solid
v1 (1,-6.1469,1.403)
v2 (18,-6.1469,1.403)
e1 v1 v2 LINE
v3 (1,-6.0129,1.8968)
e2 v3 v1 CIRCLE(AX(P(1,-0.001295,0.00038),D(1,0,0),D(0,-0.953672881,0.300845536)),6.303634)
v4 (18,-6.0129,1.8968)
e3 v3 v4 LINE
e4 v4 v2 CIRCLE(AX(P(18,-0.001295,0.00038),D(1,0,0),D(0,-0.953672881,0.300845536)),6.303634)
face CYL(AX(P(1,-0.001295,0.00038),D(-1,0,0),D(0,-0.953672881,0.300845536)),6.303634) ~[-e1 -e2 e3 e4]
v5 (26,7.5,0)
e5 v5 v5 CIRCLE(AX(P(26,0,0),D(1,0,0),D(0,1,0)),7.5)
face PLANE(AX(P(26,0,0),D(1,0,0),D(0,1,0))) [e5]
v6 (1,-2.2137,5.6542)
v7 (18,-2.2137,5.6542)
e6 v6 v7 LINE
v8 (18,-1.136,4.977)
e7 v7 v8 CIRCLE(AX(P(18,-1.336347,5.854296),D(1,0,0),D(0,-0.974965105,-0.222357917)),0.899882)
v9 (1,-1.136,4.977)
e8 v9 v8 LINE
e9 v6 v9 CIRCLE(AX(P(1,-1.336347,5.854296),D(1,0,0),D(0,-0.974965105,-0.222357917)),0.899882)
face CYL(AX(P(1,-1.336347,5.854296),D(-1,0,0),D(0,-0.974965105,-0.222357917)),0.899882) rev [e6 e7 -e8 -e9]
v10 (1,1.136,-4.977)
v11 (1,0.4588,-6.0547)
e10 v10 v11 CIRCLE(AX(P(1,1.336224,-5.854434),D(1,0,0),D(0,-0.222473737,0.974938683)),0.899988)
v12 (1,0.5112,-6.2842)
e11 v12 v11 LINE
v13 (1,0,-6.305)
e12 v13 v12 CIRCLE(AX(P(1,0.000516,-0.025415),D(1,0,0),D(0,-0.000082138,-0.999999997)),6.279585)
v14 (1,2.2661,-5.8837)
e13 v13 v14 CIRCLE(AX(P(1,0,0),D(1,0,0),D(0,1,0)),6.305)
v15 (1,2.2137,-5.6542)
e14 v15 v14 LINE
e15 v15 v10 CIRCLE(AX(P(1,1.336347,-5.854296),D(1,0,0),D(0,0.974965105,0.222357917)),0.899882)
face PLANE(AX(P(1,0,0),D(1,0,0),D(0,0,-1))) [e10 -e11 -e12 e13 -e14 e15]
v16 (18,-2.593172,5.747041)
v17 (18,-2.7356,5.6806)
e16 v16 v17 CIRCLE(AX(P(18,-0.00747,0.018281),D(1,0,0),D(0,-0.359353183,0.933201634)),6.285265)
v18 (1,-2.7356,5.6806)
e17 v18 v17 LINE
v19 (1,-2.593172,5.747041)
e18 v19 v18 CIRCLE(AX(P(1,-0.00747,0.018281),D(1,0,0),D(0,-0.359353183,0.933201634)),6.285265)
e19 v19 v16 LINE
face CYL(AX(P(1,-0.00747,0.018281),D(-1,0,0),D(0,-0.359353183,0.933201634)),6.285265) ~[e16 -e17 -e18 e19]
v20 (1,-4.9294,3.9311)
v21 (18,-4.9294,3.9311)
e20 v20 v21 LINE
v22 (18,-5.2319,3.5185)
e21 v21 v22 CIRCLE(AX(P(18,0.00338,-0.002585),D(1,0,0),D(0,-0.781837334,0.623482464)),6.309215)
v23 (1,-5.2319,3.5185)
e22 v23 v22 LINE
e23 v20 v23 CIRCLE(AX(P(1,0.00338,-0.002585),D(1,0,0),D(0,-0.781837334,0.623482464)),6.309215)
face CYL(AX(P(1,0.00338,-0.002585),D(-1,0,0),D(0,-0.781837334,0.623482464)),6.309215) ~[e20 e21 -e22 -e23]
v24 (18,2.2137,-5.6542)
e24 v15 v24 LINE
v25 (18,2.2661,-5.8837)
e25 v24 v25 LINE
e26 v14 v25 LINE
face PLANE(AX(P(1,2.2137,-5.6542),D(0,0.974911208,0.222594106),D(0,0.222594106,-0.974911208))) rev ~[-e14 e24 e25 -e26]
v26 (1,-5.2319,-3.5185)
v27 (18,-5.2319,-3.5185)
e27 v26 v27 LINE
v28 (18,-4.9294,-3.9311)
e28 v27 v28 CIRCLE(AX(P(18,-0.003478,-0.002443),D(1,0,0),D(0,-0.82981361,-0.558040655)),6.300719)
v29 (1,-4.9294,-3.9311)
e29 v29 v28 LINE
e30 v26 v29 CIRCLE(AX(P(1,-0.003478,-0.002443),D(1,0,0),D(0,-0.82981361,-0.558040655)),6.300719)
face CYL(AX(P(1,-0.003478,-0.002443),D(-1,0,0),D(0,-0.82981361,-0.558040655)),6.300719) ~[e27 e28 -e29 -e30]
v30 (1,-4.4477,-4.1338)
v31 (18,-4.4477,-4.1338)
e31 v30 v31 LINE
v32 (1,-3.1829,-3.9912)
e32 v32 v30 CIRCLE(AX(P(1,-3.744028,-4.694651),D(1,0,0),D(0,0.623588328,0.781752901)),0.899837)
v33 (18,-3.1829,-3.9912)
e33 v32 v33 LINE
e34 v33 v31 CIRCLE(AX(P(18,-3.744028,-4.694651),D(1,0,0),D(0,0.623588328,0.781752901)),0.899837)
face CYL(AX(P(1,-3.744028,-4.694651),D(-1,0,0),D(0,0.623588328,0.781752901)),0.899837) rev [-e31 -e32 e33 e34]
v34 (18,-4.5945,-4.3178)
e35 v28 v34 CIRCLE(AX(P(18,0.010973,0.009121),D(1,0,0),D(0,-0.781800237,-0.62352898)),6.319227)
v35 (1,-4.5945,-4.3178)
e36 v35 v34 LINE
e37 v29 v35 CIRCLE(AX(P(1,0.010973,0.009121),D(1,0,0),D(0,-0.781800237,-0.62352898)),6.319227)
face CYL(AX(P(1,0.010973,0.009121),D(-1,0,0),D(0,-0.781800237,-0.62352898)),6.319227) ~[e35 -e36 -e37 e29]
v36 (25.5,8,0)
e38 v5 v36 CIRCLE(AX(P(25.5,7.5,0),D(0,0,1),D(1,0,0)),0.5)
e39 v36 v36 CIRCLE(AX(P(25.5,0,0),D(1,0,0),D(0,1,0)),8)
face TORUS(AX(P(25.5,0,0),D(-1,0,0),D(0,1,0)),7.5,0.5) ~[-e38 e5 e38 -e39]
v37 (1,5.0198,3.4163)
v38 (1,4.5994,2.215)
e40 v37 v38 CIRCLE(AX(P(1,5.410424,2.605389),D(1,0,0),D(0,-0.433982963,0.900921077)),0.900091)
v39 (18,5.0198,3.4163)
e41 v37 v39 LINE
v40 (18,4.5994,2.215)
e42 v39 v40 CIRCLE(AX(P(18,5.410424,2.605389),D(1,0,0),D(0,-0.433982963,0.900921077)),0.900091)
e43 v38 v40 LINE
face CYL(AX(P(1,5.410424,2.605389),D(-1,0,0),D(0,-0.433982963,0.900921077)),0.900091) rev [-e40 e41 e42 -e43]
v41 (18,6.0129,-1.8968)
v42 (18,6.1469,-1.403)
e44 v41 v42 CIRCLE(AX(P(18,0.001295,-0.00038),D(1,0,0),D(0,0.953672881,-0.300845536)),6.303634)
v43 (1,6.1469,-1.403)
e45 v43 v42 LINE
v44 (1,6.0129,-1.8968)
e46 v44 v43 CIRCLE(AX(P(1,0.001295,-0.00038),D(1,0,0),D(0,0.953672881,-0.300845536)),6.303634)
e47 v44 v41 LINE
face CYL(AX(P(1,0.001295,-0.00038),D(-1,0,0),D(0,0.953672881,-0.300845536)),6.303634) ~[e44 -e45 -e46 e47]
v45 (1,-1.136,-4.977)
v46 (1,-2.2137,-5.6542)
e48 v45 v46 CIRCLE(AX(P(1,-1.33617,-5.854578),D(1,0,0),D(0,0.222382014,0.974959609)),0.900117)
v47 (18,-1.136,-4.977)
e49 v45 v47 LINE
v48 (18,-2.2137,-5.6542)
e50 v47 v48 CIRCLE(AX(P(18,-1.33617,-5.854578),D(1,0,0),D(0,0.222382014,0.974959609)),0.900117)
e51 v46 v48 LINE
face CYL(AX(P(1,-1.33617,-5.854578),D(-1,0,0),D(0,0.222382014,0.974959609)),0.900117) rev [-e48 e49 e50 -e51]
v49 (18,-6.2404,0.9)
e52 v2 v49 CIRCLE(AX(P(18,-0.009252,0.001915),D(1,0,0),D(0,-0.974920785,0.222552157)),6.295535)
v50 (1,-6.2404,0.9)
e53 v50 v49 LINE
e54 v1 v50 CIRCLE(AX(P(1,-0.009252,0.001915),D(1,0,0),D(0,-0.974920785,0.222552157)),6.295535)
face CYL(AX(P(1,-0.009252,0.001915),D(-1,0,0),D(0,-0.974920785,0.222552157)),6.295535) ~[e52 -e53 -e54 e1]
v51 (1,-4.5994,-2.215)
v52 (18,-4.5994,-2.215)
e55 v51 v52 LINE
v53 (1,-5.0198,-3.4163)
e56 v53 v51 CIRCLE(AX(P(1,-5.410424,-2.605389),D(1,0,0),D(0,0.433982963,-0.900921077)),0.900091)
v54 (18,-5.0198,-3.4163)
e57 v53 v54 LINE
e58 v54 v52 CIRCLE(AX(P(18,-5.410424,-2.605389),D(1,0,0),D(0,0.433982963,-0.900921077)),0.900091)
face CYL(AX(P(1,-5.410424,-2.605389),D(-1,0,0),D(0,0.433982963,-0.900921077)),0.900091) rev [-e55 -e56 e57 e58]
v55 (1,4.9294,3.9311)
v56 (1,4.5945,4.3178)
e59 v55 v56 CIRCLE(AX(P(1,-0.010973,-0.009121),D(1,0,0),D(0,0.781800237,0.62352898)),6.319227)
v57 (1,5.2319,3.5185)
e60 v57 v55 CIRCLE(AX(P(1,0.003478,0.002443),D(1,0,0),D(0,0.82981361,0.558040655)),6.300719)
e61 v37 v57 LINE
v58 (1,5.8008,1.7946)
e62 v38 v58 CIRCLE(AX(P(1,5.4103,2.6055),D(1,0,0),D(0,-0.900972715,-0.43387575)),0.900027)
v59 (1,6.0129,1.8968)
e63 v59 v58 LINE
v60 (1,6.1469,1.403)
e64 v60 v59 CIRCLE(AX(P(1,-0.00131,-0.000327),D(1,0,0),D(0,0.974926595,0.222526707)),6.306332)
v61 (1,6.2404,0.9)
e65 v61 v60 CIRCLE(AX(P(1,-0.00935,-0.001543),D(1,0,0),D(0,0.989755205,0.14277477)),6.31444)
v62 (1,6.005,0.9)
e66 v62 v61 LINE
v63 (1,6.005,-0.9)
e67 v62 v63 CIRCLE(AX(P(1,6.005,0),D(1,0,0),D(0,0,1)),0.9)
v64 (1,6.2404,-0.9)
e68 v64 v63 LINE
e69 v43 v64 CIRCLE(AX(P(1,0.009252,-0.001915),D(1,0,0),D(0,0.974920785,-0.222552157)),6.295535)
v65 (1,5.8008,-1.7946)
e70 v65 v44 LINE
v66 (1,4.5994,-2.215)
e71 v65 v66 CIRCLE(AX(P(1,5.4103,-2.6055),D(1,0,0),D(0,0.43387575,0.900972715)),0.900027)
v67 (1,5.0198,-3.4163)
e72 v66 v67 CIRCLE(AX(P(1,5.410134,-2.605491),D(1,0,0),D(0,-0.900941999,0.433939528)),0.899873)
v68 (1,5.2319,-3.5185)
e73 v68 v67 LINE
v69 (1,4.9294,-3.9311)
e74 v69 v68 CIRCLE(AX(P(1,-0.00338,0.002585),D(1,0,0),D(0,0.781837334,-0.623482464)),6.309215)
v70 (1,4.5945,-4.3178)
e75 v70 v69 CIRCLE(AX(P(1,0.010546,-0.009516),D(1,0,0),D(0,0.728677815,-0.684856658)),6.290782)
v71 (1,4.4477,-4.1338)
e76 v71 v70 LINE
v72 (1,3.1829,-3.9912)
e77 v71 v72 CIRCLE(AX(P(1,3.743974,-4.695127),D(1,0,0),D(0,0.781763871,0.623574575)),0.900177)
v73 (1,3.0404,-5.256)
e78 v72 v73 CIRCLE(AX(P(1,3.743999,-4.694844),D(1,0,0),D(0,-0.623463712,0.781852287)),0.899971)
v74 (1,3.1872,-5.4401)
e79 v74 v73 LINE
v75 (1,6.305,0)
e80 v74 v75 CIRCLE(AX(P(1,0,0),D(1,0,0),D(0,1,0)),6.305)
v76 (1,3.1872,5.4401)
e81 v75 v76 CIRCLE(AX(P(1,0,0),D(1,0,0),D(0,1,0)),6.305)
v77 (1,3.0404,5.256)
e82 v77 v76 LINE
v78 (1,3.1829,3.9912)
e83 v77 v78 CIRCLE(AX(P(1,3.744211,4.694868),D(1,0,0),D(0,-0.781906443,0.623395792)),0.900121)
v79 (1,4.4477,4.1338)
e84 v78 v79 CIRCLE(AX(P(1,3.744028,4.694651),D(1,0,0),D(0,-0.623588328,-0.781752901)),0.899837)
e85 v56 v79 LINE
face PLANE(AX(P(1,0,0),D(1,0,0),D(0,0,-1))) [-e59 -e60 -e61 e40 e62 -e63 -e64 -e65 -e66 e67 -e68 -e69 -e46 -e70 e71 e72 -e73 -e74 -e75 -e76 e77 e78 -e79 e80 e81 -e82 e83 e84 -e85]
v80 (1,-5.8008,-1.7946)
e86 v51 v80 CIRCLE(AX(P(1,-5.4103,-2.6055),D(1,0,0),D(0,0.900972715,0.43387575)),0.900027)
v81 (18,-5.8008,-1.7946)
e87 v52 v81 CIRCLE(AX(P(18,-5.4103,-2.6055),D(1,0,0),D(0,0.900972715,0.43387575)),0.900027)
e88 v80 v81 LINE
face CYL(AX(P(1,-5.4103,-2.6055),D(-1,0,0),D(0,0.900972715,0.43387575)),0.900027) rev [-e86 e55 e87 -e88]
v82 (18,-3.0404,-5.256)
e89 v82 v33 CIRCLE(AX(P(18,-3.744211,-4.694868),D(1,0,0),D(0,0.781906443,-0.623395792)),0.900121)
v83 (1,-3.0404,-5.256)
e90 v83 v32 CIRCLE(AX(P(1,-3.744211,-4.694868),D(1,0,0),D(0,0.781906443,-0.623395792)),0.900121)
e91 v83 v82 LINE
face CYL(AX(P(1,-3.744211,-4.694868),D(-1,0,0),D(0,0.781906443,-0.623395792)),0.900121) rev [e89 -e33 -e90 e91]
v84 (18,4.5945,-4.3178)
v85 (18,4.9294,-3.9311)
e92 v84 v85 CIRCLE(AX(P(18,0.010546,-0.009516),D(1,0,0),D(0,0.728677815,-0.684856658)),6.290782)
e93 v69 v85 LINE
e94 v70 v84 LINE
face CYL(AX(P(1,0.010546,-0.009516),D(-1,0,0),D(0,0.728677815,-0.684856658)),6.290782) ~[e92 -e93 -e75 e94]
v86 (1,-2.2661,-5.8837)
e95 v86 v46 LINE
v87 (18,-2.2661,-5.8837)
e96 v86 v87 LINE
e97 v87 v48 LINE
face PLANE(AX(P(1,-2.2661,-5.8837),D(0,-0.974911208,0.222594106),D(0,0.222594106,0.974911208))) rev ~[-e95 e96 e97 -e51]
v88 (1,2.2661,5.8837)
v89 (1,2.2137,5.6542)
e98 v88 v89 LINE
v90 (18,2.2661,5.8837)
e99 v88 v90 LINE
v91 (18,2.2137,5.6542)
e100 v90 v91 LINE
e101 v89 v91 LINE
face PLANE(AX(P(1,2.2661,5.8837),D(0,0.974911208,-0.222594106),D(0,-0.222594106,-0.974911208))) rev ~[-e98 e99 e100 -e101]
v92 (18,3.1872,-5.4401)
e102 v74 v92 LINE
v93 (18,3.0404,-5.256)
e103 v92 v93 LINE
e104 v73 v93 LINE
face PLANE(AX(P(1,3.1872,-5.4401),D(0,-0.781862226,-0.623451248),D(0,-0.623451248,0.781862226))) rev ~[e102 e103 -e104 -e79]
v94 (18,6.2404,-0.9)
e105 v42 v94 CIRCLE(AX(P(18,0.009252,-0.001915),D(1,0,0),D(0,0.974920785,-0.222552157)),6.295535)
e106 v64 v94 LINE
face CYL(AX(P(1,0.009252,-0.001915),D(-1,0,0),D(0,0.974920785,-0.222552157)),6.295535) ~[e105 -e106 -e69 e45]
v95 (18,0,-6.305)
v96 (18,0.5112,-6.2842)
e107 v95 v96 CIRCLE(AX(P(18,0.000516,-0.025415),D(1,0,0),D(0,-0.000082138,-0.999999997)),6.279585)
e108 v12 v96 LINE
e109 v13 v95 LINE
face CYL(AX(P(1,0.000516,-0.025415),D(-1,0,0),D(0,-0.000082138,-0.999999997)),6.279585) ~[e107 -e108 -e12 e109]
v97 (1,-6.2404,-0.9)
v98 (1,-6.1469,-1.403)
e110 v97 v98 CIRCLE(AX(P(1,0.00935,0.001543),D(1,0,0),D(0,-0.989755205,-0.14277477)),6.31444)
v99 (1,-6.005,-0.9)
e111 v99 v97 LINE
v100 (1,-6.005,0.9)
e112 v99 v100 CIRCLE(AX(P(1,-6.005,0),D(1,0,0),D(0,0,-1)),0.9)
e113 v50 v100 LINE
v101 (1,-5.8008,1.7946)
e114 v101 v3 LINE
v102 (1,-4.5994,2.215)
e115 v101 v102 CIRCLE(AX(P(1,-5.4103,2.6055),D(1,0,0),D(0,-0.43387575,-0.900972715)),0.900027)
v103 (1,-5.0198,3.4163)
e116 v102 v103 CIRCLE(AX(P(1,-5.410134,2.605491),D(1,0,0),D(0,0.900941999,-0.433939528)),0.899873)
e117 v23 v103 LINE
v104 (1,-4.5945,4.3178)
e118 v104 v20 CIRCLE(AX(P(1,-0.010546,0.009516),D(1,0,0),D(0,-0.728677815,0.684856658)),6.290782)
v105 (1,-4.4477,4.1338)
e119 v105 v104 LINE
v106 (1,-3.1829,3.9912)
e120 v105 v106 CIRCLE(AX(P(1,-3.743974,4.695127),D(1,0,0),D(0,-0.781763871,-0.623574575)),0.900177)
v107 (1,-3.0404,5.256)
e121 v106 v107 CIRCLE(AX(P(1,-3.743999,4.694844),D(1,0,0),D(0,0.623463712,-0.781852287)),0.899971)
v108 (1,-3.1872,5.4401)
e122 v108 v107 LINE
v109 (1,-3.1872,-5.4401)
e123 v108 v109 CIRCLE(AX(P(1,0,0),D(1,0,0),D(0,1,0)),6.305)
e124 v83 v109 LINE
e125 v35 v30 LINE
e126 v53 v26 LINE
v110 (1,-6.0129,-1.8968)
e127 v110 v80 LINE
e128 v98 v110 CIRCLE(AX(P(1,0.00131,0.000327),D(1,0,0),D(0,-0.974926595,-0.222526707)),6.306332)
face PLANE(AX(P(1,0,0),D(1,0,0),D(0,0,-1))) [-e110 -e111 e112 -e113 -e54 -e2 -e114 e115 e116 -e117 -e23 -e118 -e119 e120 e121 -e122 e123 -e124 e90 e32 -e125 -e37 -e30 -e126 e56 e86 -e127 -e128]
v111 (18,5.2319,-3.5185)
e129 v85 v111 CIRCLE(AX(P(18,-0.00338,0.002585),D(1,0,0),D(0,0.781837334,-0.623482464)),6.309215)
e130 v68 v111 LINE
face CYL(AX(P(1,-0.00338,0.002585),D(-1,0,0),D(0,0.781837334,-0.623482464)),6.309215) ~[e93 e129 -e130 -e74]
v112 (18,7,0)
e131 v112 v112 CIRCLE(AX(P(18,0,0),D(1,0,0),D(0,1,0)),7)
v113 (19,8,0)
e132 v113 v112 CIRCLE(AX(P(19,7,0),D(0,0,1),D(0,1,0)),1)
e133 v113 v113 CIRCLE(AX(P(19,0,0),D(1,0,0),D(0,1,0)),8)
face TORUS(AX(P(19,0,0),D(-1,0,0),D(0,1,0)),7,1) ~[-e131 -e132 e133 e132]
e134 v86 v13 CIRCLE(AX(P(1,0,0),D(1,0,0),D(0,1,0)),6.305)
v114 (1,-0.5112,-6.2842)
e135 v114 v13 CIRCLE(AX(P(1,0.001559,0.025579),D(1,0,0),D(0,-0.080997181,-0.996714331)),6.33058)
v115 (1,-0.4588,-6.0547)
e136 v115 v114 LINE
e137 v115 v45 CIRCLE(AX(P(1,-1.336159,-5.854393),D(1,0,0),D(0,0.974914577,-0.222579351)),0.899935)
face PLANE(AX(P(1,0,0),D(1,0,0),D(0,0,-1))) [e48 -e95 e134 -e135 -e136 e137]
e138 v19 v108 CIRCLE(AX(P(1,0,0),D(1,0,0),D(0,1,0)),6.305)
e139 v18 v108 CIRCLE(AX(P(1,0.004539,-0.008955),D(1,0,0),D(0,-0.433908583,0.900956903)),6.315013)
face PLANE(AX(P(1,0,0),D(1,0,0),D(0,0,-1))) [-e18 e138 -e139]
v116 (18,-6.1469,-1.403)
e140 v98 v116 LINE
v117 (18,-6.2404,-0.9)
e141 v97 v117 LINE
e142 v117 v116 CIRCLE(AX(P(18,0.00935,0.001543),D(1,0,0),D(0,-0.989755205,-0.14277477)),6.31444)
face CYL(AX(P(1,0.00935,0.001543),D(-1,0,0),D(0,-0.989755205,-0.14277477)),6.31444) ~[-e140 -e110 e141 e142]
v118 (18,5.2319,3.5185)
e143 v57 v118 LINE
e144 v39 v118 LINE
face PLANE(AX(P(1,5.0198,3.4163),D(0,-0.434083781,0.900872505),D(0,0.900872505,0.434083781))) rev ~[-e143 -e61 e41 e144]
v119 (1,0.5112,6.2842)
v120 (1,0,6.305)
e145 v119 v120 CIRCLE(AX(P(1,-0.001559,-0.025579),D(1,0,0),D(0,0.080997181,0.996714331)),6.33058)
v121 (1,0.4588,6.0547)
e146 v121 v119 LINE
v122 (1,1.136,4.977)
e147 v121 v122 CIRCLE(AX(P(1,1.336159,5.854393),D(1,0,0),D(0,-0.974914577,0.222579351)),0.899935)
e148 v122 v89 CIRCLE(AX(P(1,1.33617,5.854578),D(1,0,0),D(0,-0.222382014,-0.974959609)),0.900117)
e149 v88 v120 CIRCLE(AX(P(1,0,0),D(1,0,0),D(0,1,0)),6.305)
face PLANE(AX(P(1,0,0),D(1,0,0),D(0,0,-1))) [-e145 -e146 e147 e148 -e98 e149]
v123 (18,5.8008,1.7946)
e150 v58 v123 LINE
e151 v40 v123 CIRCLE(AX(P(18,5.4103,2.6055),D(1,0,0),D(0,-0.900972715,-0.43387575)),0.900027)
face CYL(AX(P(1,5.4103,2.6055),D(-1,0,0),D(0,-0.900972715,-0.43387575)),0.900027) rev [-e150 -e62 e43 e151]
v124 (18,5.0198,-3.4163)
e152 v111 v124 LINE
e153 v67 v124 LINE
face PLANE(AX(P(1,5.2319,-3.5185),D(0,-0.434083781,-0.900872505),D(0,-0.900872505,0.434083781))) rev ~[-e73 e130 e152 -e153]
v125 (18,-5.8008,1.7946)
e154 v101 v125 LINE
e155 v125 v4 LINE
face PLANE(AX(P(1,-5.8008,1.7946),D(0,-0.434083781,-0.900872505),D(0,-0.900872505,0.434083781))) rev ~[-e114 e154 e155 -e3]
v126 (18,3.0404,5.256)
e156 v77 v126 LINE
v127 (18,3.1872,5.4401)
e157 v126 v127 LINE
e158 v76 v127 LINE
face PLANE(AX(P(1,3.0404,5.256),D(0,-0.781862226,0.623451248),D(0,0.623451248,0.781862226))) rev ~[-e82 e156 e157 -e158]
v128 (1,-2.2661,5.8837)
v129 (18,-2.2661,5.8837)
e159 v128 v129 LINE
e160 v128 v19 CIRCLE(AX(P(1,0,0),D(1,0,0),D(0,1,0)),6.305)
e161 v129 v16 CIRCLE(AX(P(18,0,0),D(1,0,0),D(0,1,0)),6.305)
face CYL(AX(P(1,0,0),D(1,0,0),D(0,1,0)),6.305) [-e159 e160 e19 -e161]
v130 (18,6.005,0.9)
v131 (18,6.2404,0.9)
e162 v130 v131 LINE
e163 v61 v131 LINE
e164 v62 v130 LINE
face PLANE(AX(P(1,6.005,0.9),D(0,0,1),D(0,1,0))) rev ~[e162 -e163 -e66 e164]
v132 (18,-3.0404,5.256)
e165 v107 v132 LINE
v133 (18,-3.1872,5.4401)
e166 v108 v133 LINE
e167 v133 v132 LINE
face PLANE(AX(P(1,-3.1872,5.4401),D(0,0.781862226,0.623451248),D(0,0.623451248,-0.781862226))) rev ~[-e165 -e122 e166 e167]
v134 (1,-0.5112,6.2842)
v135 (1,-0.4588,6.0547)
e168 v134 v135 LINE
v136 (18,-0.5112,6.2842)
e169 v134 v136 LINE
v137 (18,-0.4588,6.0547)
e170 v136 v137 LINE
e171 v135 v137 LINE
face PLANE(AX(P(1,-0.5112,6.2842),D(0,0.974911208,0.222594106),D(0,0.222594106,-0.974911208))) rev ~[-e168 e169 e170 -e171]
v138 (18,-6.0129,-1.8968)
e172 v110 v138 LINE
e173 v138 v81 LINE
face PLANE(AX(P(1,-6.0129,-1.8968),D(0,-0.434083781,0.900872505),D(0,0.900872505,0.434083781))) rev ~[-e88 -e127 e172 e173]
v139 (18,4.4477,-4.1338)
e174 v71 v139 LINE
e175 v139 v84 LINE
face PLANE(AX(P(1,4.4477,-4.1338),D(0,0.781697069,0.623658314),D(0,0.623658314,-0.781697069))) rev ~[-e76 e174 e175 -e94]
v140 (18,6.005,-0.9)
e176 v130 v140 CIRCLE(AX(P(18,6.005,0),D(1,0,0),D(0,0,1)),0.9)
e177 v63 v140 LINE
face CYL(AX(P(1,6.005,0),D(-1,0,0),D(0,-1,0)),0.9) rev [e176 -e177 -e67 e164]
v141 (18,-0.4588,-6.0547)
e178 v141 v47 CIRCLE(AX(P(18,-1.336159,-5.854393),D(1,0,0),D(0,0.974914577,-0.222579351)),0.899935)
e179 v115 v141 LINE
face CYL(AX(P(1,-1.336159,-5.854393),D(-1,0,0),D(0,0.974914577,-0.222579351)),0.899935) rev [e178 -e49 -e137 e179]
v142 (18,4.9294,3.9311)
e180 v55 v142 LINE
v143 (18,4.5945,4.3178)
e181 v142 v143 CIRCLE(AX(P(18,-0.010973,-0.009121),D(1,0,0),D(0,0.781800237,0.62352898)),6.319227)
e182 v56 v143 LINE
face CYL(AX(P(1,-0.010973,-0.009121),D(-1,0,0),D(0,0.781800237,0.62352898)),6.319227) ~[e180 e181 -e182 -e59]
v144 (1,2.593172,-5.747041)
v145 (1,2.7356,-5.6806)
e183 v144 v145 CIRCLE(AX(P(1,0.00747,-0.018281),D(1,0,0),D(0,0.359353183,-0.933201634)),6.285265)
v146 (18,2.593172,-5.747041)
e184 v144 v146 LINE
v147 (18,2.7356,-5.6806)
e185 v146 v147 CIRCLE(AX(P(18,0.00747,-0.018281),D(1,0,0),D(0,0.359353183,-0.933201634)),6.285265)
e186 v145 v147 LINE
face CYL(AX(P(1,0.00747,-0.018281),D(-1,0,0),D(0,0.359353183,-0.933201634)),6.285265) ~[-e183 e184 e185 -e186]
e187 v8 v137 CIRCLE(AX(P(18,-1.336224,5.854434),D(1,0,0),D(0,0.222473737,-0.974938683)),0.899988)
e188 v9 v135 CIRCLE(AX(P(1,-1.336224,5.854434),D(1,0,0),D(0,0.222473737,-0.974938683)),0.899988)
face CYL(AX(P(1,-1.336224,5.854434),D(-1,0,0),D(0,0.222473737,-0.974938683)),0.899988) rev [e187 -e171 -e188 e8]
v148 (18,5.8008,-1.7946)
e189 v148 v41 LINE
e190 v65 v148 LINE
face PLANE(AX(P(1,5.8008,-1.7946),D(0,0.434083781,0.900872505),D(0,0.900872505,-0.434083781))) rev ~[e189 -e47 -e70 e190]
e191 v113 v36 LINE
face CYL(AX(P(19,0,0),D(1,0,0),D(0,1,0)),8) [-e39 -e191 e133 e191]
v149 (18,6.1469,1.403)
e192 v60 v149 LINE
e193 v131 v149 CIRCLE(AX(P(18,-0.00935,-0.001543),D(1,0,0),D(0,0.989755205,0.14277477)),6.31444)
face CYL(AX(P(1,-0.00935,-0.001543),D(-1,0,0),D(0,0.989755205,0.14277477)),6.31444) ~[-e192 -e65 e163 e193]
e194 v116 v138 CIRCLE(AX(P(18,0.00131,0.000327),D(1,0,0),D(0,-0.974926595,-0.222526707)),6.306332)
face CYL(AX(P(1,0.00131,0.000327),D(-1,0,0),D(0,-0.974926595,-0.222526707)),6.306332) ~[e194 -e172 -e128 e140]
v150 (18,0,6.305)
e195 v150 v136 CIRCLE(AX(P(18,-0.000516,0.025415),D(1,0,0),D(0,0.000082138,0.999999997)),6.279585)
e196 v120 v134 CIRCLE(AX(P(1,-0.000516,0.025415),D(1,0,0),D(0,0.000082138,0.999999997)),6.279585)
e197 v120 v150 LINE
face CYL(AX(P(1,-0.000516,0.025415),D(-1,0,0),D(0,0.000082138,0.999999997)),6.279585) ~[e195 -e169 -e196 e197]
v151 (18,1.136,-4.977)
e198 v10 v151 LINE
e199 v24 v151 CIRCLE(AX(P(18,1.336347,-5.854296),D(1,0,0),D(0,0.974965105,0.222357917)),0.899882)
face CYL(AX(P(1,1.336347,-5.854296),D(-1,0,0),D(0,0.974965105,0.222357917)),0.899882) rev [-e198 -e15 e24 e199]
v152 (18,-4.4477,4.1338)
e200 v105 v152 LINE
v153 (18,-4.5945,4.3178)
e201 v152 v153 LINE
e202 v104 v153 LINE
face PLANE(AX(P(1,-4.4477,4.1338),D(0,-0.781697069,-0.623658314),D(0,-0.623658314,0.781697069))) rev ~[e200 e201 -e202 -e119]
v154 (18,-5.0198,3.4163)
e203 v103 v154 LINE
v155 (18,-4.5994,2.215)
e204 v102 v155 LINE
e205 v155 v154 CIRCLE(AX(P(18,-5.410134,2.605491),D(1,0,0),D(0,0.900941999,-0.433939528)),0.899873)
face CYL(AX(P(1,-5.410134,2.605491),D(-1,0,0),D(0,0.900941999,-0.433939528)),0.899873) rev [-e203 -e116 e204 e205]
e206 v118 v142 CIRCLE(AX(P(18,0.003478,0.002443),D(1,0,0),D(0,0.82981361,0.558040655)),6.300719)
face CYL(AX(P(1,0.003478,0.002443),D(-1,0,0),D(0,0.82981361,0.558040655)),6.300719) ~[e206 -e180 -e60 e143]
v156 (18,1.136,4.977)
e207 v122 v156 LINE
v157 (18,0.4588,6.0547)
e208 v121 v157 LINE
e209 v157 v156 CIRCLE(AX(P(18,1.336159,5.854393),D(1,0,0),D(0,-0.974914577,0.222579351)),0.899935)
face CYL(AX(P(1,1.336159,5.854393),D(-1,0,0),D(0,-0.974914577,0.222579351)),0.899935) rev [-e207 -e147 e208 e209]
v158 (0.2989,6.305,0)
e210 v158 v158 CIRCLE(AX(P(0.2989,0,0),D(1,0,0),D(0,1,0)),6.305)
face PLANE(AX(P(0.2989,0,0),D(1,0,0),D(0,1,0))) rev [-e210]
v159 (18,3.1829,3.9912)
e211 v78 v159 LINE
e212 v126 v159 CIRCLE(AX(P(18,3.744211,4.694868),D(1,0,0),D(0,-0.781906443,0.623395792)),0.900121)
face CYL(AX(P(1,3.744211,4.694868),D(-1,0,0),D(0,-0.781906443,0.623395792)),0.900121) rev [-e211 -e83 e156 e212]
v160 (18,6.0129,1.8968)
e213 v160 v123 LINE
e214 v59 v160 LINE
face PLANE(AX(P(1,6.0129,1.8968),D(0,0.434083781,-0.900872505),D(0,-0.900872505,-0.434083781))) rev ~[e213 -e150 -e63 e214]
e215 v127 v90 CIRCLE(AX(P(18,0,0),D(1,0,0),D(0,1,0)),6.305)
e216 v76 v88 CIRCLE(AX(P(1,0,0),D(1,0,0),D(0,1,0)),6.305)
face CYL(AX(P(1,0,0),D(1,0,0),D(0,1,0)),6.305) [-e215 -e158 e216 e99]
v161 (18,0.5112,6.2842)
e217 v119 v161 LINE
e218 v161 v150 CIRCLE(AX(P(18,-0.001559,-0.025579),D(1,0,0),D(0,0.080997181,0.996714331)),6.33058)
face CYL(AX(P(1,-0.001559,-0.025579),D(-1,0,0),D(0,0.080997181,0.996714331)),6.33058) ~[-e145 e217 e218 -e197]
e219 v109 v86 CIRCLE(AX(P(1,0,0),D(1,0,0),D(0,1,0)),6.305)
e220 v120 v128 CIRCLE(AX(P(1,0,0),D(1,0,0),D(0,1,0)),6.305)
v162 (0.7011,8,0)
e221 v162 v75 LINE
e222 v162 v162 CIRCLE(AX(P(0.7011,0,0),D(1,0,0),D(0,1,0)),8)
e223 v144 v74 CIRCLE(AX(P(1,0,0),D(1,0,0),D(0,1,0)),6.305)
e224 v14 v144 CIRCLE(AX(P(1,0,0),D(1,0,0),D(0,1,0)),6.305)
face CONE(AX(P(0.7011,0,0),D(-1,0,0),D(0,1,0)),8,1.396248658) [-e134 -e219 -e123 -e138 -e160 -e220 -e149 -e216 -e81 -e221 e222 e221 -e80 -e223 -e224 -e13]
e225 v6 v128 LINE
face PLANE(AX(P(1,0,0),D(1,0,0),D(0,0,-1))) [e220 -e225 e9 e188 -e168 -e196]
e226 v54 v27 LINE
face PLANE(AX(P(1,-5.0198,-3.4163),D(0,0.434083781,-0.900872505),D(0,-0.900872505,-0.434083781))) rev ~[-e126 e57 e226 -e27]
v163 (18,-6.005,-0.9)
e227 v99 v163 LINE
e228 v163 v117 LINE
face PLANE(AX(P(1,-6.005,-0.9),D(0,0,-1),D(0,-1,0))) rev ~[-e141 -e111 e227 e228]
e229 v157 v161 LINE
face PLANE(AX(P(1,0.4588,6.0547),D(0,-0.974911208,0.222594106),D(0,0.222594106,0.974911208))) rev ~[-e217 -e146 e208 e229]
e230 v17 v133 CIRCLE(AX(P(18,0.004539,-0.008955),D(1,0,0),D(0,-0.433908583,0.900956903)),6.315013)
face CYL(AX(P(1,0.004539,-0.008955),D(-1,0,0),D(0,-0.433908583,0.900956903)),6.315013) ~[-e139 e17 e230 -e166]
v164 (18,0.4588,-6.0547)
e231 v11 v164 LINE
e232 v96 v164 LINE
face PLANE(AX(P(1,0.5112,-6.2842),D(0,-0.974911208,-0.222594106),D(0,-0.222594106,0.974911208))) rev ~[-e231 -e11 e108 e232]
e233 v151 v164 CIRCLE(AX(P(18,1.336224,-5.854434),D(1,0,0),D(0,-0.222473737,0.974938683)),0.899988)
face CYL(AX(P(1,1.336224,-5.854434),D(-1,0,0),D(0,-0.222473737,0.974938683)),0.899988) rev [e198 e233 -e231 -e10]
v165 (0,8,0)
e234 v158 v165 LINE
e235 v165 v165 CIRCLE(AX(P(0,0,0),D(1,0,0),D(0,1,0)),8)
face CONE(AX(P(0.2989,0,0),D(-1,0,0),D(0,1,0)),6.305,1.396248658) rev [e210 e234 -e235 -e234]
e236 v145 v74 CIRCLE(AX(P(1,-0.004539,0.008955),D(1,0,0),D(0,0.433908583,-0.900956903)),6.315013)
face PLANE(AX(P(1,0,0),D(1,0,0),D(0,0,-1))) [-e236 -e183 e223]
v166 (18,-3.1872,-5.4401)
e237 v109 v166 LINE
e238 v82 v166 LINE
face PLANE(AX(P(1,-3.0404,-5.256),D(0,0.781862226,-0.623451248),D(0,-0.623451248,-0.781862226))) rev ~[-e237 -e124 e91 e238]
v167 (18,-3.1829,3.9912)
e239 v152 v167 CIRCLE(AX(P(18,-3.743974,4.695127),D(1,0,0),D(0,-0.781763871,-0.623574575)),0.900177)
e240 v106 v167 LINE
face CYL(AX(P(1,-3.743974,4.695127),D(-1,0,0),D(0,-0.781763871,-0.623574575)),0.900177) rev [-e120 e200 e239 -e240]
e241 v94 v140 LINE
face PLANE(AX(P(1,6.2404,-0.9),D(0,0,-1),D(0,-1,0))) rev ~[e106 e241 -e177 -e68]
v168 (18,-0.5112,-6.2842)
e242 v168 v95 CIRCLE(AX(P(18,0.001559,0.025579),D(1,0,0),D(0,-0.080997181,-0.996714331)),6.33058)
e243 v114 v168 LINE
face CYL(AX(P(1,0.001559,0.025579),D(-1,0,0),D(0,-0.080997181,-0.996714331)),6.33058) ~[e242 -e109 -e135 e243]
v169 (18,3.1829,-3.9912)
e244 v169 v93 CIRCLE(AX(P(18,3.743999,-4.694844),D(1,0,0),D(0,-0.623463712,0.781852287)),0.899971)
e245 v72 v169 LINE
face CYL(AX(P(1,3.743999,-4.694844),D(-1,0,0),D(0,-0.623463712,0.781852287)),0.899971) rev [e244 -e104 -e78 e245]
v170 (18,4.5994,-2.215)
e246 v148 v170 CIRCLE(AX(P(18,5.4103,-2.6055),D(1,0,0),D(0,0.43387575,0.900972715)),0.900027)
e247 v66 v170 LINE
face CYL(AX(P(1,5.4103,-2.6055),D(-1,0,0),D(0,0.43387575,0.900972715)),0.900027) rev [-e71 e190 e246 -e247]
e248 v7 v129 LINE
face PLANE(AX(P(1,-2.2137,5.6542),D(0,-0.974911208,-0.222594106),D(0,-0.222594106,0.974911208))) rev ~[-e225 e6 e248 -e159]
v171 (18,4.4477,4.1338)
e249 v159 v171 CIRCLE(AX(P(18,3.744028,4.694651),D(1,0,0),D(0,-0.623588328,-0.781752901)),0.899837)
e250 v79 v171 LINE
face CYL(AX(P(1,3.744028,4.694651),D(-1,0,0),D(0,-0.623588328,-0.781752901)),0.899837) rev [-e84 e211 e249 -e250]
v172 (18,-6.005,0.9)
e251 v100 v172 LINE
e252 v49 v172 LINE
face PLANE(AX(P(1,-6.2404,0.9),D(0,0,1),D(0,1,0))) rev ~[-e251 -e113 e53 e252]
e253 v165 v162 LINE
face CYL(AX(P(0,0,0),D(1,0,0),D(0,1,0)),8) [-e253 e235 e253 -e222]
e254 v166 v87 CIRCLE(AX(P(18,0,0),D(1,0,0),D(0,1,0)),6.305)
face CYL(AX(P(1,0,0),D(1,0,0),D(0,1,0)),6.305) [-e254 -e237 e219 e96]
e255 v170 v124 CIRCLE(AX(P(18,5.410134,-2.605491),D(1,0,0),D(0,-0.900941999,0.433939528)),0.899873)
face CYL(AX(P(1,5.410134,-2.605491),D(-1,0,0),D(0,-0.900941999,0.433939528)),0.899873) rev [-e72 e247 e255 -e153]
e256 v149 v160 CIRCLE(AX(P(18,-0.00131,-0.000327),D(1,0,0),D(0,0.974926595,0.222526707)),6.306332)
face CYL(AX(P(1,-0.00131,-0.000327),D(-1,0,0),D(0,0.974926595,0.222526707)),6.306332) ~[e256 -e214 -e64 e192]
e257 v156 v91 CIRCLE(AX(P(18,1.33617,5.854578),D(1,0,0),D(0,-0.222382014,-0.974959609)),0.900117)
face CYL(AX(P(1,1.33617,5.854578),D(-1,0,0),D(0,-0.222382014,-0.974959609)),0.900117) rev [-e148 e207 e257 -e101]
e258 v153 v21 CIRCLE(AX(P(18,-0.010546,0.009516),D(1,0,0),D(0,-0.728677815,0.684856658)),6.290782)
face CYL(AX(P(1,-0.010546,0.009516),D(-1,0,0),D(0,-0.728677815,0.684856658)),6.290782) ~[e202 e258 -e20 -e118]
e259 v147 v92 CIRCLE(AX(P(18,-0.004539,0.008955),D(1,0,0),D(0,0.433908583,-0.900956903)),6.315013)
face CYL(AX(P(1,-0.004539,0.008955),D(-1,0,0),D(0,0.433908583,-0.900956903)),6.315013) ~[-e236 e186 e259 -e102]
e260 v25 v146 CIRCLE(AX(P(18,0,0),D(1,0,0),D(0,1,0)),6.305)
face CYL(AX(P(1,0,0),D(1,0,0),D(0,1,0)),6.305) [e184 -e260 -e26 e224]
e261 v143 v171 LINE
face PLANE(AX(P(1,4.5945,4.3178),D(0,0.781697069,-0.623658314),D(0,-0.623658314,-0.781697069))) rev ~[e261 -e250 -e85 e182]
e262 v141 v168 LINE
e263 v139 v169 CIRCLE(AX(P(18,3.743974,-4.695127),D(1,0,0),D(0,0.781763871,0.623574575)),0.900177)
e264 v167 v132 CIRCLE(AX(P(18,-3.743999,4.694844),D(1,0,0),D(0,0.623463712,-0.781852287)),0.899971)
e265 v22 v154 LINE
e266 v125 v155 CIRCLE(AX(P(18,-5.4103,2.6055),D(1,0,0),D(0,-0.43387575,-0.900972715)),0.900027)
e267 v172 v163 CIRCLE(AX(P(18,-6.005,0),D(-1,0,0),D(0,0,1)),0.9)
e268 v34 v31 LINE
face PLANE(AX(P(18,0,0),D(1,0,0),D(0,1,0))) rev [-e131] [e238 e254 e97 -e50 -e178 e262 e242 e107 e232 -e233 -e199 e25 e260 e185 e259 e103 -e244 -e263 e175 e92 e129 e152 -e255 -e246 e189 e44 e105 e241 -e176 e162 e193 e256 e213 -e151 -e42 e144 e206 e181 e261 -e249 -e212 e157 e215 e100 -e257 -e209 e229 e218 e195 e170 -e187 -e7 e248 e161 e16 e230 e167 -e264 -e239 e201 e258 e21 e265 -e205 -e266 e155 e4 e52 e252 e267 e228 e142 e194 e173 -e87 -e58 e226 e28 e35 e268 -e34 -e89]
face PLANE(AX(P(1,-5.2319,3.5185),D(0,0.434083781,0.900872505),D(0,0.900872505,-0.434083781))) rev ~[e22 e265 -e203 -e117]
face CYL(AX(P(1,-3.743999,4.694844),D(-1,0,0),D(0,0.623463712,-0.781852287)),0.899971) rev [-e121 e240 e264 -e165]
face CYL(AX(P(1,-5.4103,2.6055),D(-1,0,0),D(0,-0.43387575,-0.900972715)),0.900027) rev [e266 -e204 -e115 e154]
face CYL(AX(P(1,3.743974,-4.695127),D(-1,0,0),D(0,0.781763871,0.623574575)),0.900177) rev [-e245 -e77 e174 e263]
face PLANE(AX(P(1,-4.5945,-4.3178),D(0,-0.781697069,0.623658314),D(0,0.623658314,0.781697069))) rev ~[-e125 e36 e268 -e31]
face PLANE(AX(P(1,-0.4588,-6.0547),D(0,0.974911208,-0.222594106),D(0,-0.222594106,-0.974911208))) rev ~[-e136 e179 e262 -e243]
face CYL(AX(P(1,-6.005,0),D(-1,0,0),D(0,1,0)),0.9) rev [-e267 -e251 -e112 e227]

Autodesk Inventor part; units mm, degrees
ref_plane "YZ Plane" through (0, 0, 0) normal (1, 0, 0) x (0, 1, 0)
ref_plane "XZ Plane" through (0, 0, 0) normal (0, 1, 0) x (-1, 0, 0)
ref_plane "XY Plane" through (0, 0, 0) normal (0, 0, 1) x (1, 0, 0)
sketch "Sketch_1" plane through (0, 0, 0) normal (0, 0, 1) x (1, 0, 0)
  line L0 (500, 0) -> (-500, 0)
  line L1 (0.2989, 0) -> (0.2989, 6.305)
  line L2 (0.2989, 6.305) -> (0, 8)
  line L3 (0, 8) -> (0.7011, 8)
  line L4 (0.7011, 8) -> (1, 6.305)
  line L5 (1, 6.305) -> (18, 6.305)
  line L6 (18, 6.305) -> (18, 7)
  arc A0 (19, 8) -> (18, 7) centre (19, 7) ccw
  line L7 (19, 8) -> (25.5, 8)
  arc A1 (26, 7.5) -> (25.5, 8) centre (25.5, 7.5) ccw
  line L8 (26, 7.5) -> (26, 0)
  line L9 (26, 0) -> (0.2989, 0)
revolve "Revolution1" add sketch "Sketch_1" angle 360 about axis through (500, 0, 0) along (1, 0, 0)
sketch "Sketch_2" plane through (1, 0, 0) normal (1, 0, 0) x (0, 0, -1)
  circle A0 centre (0, 0) radius 12.61
  arc A1 (-6.305, 0) -> (-6.2842, -0.5112) centre (0, 0) ccw
  line L0 (-6.2842, -0.5112) -> (-6.0547, -0.4588)
  arc A2 (-4.977, -1.136) -> (-6.0547, -0.4588) centre (-5.8544, -1.3362) ccw
  arc A3 (-5.6542, -2.2137) -> (-4.977, -1.136) centre (-5.8544, -1.3362) ccw
  line L1 (-5.6542, -2.2137) -> (-5.8837, -2.2661)
  arc A4 (-5.8837, -2.2661) -> (-5.6806, -2.7356) centre (0, 0) ccw
  arc A5 (-5.6806, -2.7356) -> (-5.4401, -3.1872) centre (0, 0) ccw
  line L2 (-5.4401, -3.1872) -> (-5.256, -3.0404)
  arc A6 (-3.9912, -3.1829) -> (-5.256, -3.0404) centre (-4.6949, -3.7441) ccw
  arc A7 (-4.1338, -4.4477) -> (-3.9912, -3.1829) centre (-4.6949, -3.7441) ccw
  line L3 (-4.1338, -4.4477) -> (-4.3178, -4.5945)
  arc A8 (-4.3178, -4.5945) -> (-3.9311, -4.9294) centre (0, 0) ccw
  arc A9 (-3.9311, -4.9294) -> (-3.5185, -5.2319) centre (0, 0) ccw
  line L4 (-3.5185, -5.2319) -> (-3.4163, -5.0198)
  arc A10 (-2.215, -4.5994) -> (-3.4163, -5.0198) centre (-2.6055, -5.4103) ccw
  arc A11 (-1.7946, -5.8008) -> (-2.215, -4.5994) centre (-2.6055, -5.4103) ccw
  line L5 (-1.7946, -5.8008) -> (-1.8968, -6.0129)
  arc A12 (-1.8968, -6.0129) -> (-1.403, -6.1469) centre (0, 0) ccw
  arc A13 (-1.403, -6.1469) -> (-0.9, -6.2404) centre (0, 0) ccw
  line L6 (-0.9, -6.2404) -> (-0.9, -6.005)
  arc A14 (0, -5.105) -> (-0.9, -6.005) centre (0, -6.005) ccw
  arc A15 (0.9, -6.005) -> (0, -5.105) centre (0, -6.005) ccw
  line L7 (0.9, -6.005) -> (0.9, -6.2404)
  arc A16 (0.9, -6.2404) -> (1.403, -6.1469) centre (0, 0) ccw
  arc A17 (1.403, -6.1469) -> (1.8968, -6.0129) centre (0, 0) ccw
  line L8 (1.8968, -6.0129) -> (1.7946, -5.8008)
  arc A18 (2.215, -4.5994) -> (1.7946, -5.8008) centre (2.6055, -5.4103) ccw
  arc A19 (3.4163, -5.0198) -> (2.215, -4.5994) centre (2.6055, -5.4103) ccw
  line L9 (3.4163, -5.0198) -> (3.5185, -5.2319)
  arc A20 (3.5185, -5.2319) -> (3.9311, -4.9294) centre (0, 0) ccw
  arc A21 (3.9311, -4.9294) -> (4.3178, -4.5945) centre (0, 0) ccw
  line L10 (4.3178, -4.5945) -> (4.1338, -4.4477)
  arc A22 (3.9912, -3.1829) -> (4.1338, -4.4477) centre (4.6949, -3.7441) ccw
  arc A23 (5.256, -3.0404) -> (3.9912, -3.1829) centre (4.6949, -3.7441) ccw
  line L11 (5.256, -3.0404) -> (5.4401, -3.1872)
  arc A24 (5.4401, -3.1872) -> (5.6806, -2.7356) centre (0, 0) ccw
  arc A25 (5.6806, -2.7356) -> (5.8837, -2.2661) centre (0, 0) ccw
  line L12 (5.8837, -2.2661) -> (5.6542, -2.2137)
  arc A26 (4.977, -1.136) -> (5.6542, -2.2137) centre (5.8544, -1.3362) ccw
  arc A27 (6.0547, -0.4588) -> (4.977, -1.136) centre (5.8544, -1.3362) ccw
  line L13 (6.0547, -0.4588) -> (6.2842, -0.5112)
  arc A28 (6.2842, -0.5112) -> (6.305, 0) centre (0, 0) ccw
  arc A29 (6.305, 0) -> (6.2842, 0.5112) centre (0, 0) ccw
  line L14 (6.2842, 0.5112) -> (6.0547, 0.4588)
  arc A30 (4.977, 1.136) -> (6.0547, 0.4588) centre (5.8544, 1.3362) ccw
  arc A31 (5.6542, 2.2137) -> (4.977, 1.136) centre (5.8544, 1.3362) ccw
  line L15 (5.6542, 2.2137) -> (5.8837, 2.2661)
  arc A32 (5.8837, 2.2661) -> (5.6806, 2.7356) centre (0, 0) ccw
  arc A33 (5.6806, 2.7356) -> (5.4401, 3.1872) centre (0, 0) ccw
  line L16 (5.4401, 3.1872) -> (5.256, 3.0404)
  arc A34 (3.9912, 3.1829) -> (5.256, 3.0404) centre (4.6949, 3.7441) ccw
  arc A35 (4.1338, 4.4477) -> (3.9912, 3.1829) centre (4.6949, 3.7441) ccw
  line L17 (4.1338, 4.4477) -> (4.3178, 4.5945)
  arc A36 (4.3178, 4.5945) -> (3.9311, 4.9294) centre (0, 0) ccw
  arc A37 (3.9311, 4.9294) -> (3.5185, 5.2319) centre (0, 0) ccw
  line L18 (3.5185, 5.2319) -> (3.4163, 5.0198)
  arc A38 (2.215, 4.5994) -> (3.4163, 5.0198) centre (2.6055, 5.4103) ccw
  arc A39 (1.7946, 5.8008) -> (2.215, 4.5994) centre (2.6055, 5.4103) ccw
  line L19 (1.7946, 5.8008) -> (1.8968, 6.0129)
  arc A40 (1.8968, 6.0129) -> (1.403, 6.1469) centre (0, 0) ccw
  arc A41 (1.403, 6.1469) -> (0.9, 6.2404) centre (0, 0) ccw
  line L20 (0.9, 6.2404) -> (0.9, 6.005)
  arc A42 (0, 5.105) -> (0.9, 6.005) centre (0, 6.005) ccw
  arc A43 (-0.9, 6.005) -> (0, 5.105) centre (0, 6.005) ccw
  line L21 (-0.9, 6.005) -> (-0.9, 6.2404)
  arc A44 (-0.9, 6.2404) -> (-1.403, 6.1469) centre (0, 0) ccw
  arc A45 (-1.403, 6.1469) -> (-1.8968, 6.0129) centre (0, 0) ccw
  line L22 (-1.8968, 6.0129) -> (-1.7946, 5.8008)
  arc A46 (-2.215, 4.5994) -> (-1.7946, 5.8008) centre (-2.6055, 5.4103) ccw
  arc A47 (-3.4163, 5.0198) -> (-2.215, 4.5994) centre (-2.6055, 5.4103) ccw
  line L23 (-3.4163, 5.0198) -> (-3.5185, 5.2319)
  arc A48 (-3.5185, 5.2319) -> (-3.9311, 4.9294) centre (0, 0) ccw
  arc A49 (-3.9311, 4.9294) -> (-4.3178, 4.5945) centre (0, 0) ccw
  line L24 (-4.3178, 4.5945) -> (-4.1338, 4.4477)
  arc A50 (-3.9912, 3.1829) -> (-4.1338, 4.4477) centre (-4.6949, 3.7441) ccw
  arc A51 (-5.256, 3.0404) -> (-3.9912, 3.1829) centre (-4.6949, 3.7441) ccw
  line L25 (-5.256, 3.0404) -> (-5.4401, 3.1872)
  arc A52 (-5.4401, 3.1872) -> (-5.6806, 2.7356) centre (0, 0) ccw
  arc A53 (-5.6806, 2.7356) -> (-5.8837, 2.2661) centre (0, 0) ccw
  line L26 (-5.8837, 2.2661) -> (-5.6542, 2.2137)
  arc A54 (-4.977, 1.136) -> (-5.6542, 2.2137) centre (-5.8544, 1.3362) ccw
  arc A55 (-6.0547, 0.4588) -> (-4.977, 1.136) centre (-5.8544, 1.3362) ccw
  line L27 (-6.0547, 0.4588) -> (-6.2842, 0.5112)
  arc A56 (-6.2842, 0.5112) -> (-6.305, 0) centre (0, 0) ccw
extrude "Extrusion1" cut sketch "Sketch_2" along normal blind 17
properties part number "zrr_htd_3m15_0_17031400"
